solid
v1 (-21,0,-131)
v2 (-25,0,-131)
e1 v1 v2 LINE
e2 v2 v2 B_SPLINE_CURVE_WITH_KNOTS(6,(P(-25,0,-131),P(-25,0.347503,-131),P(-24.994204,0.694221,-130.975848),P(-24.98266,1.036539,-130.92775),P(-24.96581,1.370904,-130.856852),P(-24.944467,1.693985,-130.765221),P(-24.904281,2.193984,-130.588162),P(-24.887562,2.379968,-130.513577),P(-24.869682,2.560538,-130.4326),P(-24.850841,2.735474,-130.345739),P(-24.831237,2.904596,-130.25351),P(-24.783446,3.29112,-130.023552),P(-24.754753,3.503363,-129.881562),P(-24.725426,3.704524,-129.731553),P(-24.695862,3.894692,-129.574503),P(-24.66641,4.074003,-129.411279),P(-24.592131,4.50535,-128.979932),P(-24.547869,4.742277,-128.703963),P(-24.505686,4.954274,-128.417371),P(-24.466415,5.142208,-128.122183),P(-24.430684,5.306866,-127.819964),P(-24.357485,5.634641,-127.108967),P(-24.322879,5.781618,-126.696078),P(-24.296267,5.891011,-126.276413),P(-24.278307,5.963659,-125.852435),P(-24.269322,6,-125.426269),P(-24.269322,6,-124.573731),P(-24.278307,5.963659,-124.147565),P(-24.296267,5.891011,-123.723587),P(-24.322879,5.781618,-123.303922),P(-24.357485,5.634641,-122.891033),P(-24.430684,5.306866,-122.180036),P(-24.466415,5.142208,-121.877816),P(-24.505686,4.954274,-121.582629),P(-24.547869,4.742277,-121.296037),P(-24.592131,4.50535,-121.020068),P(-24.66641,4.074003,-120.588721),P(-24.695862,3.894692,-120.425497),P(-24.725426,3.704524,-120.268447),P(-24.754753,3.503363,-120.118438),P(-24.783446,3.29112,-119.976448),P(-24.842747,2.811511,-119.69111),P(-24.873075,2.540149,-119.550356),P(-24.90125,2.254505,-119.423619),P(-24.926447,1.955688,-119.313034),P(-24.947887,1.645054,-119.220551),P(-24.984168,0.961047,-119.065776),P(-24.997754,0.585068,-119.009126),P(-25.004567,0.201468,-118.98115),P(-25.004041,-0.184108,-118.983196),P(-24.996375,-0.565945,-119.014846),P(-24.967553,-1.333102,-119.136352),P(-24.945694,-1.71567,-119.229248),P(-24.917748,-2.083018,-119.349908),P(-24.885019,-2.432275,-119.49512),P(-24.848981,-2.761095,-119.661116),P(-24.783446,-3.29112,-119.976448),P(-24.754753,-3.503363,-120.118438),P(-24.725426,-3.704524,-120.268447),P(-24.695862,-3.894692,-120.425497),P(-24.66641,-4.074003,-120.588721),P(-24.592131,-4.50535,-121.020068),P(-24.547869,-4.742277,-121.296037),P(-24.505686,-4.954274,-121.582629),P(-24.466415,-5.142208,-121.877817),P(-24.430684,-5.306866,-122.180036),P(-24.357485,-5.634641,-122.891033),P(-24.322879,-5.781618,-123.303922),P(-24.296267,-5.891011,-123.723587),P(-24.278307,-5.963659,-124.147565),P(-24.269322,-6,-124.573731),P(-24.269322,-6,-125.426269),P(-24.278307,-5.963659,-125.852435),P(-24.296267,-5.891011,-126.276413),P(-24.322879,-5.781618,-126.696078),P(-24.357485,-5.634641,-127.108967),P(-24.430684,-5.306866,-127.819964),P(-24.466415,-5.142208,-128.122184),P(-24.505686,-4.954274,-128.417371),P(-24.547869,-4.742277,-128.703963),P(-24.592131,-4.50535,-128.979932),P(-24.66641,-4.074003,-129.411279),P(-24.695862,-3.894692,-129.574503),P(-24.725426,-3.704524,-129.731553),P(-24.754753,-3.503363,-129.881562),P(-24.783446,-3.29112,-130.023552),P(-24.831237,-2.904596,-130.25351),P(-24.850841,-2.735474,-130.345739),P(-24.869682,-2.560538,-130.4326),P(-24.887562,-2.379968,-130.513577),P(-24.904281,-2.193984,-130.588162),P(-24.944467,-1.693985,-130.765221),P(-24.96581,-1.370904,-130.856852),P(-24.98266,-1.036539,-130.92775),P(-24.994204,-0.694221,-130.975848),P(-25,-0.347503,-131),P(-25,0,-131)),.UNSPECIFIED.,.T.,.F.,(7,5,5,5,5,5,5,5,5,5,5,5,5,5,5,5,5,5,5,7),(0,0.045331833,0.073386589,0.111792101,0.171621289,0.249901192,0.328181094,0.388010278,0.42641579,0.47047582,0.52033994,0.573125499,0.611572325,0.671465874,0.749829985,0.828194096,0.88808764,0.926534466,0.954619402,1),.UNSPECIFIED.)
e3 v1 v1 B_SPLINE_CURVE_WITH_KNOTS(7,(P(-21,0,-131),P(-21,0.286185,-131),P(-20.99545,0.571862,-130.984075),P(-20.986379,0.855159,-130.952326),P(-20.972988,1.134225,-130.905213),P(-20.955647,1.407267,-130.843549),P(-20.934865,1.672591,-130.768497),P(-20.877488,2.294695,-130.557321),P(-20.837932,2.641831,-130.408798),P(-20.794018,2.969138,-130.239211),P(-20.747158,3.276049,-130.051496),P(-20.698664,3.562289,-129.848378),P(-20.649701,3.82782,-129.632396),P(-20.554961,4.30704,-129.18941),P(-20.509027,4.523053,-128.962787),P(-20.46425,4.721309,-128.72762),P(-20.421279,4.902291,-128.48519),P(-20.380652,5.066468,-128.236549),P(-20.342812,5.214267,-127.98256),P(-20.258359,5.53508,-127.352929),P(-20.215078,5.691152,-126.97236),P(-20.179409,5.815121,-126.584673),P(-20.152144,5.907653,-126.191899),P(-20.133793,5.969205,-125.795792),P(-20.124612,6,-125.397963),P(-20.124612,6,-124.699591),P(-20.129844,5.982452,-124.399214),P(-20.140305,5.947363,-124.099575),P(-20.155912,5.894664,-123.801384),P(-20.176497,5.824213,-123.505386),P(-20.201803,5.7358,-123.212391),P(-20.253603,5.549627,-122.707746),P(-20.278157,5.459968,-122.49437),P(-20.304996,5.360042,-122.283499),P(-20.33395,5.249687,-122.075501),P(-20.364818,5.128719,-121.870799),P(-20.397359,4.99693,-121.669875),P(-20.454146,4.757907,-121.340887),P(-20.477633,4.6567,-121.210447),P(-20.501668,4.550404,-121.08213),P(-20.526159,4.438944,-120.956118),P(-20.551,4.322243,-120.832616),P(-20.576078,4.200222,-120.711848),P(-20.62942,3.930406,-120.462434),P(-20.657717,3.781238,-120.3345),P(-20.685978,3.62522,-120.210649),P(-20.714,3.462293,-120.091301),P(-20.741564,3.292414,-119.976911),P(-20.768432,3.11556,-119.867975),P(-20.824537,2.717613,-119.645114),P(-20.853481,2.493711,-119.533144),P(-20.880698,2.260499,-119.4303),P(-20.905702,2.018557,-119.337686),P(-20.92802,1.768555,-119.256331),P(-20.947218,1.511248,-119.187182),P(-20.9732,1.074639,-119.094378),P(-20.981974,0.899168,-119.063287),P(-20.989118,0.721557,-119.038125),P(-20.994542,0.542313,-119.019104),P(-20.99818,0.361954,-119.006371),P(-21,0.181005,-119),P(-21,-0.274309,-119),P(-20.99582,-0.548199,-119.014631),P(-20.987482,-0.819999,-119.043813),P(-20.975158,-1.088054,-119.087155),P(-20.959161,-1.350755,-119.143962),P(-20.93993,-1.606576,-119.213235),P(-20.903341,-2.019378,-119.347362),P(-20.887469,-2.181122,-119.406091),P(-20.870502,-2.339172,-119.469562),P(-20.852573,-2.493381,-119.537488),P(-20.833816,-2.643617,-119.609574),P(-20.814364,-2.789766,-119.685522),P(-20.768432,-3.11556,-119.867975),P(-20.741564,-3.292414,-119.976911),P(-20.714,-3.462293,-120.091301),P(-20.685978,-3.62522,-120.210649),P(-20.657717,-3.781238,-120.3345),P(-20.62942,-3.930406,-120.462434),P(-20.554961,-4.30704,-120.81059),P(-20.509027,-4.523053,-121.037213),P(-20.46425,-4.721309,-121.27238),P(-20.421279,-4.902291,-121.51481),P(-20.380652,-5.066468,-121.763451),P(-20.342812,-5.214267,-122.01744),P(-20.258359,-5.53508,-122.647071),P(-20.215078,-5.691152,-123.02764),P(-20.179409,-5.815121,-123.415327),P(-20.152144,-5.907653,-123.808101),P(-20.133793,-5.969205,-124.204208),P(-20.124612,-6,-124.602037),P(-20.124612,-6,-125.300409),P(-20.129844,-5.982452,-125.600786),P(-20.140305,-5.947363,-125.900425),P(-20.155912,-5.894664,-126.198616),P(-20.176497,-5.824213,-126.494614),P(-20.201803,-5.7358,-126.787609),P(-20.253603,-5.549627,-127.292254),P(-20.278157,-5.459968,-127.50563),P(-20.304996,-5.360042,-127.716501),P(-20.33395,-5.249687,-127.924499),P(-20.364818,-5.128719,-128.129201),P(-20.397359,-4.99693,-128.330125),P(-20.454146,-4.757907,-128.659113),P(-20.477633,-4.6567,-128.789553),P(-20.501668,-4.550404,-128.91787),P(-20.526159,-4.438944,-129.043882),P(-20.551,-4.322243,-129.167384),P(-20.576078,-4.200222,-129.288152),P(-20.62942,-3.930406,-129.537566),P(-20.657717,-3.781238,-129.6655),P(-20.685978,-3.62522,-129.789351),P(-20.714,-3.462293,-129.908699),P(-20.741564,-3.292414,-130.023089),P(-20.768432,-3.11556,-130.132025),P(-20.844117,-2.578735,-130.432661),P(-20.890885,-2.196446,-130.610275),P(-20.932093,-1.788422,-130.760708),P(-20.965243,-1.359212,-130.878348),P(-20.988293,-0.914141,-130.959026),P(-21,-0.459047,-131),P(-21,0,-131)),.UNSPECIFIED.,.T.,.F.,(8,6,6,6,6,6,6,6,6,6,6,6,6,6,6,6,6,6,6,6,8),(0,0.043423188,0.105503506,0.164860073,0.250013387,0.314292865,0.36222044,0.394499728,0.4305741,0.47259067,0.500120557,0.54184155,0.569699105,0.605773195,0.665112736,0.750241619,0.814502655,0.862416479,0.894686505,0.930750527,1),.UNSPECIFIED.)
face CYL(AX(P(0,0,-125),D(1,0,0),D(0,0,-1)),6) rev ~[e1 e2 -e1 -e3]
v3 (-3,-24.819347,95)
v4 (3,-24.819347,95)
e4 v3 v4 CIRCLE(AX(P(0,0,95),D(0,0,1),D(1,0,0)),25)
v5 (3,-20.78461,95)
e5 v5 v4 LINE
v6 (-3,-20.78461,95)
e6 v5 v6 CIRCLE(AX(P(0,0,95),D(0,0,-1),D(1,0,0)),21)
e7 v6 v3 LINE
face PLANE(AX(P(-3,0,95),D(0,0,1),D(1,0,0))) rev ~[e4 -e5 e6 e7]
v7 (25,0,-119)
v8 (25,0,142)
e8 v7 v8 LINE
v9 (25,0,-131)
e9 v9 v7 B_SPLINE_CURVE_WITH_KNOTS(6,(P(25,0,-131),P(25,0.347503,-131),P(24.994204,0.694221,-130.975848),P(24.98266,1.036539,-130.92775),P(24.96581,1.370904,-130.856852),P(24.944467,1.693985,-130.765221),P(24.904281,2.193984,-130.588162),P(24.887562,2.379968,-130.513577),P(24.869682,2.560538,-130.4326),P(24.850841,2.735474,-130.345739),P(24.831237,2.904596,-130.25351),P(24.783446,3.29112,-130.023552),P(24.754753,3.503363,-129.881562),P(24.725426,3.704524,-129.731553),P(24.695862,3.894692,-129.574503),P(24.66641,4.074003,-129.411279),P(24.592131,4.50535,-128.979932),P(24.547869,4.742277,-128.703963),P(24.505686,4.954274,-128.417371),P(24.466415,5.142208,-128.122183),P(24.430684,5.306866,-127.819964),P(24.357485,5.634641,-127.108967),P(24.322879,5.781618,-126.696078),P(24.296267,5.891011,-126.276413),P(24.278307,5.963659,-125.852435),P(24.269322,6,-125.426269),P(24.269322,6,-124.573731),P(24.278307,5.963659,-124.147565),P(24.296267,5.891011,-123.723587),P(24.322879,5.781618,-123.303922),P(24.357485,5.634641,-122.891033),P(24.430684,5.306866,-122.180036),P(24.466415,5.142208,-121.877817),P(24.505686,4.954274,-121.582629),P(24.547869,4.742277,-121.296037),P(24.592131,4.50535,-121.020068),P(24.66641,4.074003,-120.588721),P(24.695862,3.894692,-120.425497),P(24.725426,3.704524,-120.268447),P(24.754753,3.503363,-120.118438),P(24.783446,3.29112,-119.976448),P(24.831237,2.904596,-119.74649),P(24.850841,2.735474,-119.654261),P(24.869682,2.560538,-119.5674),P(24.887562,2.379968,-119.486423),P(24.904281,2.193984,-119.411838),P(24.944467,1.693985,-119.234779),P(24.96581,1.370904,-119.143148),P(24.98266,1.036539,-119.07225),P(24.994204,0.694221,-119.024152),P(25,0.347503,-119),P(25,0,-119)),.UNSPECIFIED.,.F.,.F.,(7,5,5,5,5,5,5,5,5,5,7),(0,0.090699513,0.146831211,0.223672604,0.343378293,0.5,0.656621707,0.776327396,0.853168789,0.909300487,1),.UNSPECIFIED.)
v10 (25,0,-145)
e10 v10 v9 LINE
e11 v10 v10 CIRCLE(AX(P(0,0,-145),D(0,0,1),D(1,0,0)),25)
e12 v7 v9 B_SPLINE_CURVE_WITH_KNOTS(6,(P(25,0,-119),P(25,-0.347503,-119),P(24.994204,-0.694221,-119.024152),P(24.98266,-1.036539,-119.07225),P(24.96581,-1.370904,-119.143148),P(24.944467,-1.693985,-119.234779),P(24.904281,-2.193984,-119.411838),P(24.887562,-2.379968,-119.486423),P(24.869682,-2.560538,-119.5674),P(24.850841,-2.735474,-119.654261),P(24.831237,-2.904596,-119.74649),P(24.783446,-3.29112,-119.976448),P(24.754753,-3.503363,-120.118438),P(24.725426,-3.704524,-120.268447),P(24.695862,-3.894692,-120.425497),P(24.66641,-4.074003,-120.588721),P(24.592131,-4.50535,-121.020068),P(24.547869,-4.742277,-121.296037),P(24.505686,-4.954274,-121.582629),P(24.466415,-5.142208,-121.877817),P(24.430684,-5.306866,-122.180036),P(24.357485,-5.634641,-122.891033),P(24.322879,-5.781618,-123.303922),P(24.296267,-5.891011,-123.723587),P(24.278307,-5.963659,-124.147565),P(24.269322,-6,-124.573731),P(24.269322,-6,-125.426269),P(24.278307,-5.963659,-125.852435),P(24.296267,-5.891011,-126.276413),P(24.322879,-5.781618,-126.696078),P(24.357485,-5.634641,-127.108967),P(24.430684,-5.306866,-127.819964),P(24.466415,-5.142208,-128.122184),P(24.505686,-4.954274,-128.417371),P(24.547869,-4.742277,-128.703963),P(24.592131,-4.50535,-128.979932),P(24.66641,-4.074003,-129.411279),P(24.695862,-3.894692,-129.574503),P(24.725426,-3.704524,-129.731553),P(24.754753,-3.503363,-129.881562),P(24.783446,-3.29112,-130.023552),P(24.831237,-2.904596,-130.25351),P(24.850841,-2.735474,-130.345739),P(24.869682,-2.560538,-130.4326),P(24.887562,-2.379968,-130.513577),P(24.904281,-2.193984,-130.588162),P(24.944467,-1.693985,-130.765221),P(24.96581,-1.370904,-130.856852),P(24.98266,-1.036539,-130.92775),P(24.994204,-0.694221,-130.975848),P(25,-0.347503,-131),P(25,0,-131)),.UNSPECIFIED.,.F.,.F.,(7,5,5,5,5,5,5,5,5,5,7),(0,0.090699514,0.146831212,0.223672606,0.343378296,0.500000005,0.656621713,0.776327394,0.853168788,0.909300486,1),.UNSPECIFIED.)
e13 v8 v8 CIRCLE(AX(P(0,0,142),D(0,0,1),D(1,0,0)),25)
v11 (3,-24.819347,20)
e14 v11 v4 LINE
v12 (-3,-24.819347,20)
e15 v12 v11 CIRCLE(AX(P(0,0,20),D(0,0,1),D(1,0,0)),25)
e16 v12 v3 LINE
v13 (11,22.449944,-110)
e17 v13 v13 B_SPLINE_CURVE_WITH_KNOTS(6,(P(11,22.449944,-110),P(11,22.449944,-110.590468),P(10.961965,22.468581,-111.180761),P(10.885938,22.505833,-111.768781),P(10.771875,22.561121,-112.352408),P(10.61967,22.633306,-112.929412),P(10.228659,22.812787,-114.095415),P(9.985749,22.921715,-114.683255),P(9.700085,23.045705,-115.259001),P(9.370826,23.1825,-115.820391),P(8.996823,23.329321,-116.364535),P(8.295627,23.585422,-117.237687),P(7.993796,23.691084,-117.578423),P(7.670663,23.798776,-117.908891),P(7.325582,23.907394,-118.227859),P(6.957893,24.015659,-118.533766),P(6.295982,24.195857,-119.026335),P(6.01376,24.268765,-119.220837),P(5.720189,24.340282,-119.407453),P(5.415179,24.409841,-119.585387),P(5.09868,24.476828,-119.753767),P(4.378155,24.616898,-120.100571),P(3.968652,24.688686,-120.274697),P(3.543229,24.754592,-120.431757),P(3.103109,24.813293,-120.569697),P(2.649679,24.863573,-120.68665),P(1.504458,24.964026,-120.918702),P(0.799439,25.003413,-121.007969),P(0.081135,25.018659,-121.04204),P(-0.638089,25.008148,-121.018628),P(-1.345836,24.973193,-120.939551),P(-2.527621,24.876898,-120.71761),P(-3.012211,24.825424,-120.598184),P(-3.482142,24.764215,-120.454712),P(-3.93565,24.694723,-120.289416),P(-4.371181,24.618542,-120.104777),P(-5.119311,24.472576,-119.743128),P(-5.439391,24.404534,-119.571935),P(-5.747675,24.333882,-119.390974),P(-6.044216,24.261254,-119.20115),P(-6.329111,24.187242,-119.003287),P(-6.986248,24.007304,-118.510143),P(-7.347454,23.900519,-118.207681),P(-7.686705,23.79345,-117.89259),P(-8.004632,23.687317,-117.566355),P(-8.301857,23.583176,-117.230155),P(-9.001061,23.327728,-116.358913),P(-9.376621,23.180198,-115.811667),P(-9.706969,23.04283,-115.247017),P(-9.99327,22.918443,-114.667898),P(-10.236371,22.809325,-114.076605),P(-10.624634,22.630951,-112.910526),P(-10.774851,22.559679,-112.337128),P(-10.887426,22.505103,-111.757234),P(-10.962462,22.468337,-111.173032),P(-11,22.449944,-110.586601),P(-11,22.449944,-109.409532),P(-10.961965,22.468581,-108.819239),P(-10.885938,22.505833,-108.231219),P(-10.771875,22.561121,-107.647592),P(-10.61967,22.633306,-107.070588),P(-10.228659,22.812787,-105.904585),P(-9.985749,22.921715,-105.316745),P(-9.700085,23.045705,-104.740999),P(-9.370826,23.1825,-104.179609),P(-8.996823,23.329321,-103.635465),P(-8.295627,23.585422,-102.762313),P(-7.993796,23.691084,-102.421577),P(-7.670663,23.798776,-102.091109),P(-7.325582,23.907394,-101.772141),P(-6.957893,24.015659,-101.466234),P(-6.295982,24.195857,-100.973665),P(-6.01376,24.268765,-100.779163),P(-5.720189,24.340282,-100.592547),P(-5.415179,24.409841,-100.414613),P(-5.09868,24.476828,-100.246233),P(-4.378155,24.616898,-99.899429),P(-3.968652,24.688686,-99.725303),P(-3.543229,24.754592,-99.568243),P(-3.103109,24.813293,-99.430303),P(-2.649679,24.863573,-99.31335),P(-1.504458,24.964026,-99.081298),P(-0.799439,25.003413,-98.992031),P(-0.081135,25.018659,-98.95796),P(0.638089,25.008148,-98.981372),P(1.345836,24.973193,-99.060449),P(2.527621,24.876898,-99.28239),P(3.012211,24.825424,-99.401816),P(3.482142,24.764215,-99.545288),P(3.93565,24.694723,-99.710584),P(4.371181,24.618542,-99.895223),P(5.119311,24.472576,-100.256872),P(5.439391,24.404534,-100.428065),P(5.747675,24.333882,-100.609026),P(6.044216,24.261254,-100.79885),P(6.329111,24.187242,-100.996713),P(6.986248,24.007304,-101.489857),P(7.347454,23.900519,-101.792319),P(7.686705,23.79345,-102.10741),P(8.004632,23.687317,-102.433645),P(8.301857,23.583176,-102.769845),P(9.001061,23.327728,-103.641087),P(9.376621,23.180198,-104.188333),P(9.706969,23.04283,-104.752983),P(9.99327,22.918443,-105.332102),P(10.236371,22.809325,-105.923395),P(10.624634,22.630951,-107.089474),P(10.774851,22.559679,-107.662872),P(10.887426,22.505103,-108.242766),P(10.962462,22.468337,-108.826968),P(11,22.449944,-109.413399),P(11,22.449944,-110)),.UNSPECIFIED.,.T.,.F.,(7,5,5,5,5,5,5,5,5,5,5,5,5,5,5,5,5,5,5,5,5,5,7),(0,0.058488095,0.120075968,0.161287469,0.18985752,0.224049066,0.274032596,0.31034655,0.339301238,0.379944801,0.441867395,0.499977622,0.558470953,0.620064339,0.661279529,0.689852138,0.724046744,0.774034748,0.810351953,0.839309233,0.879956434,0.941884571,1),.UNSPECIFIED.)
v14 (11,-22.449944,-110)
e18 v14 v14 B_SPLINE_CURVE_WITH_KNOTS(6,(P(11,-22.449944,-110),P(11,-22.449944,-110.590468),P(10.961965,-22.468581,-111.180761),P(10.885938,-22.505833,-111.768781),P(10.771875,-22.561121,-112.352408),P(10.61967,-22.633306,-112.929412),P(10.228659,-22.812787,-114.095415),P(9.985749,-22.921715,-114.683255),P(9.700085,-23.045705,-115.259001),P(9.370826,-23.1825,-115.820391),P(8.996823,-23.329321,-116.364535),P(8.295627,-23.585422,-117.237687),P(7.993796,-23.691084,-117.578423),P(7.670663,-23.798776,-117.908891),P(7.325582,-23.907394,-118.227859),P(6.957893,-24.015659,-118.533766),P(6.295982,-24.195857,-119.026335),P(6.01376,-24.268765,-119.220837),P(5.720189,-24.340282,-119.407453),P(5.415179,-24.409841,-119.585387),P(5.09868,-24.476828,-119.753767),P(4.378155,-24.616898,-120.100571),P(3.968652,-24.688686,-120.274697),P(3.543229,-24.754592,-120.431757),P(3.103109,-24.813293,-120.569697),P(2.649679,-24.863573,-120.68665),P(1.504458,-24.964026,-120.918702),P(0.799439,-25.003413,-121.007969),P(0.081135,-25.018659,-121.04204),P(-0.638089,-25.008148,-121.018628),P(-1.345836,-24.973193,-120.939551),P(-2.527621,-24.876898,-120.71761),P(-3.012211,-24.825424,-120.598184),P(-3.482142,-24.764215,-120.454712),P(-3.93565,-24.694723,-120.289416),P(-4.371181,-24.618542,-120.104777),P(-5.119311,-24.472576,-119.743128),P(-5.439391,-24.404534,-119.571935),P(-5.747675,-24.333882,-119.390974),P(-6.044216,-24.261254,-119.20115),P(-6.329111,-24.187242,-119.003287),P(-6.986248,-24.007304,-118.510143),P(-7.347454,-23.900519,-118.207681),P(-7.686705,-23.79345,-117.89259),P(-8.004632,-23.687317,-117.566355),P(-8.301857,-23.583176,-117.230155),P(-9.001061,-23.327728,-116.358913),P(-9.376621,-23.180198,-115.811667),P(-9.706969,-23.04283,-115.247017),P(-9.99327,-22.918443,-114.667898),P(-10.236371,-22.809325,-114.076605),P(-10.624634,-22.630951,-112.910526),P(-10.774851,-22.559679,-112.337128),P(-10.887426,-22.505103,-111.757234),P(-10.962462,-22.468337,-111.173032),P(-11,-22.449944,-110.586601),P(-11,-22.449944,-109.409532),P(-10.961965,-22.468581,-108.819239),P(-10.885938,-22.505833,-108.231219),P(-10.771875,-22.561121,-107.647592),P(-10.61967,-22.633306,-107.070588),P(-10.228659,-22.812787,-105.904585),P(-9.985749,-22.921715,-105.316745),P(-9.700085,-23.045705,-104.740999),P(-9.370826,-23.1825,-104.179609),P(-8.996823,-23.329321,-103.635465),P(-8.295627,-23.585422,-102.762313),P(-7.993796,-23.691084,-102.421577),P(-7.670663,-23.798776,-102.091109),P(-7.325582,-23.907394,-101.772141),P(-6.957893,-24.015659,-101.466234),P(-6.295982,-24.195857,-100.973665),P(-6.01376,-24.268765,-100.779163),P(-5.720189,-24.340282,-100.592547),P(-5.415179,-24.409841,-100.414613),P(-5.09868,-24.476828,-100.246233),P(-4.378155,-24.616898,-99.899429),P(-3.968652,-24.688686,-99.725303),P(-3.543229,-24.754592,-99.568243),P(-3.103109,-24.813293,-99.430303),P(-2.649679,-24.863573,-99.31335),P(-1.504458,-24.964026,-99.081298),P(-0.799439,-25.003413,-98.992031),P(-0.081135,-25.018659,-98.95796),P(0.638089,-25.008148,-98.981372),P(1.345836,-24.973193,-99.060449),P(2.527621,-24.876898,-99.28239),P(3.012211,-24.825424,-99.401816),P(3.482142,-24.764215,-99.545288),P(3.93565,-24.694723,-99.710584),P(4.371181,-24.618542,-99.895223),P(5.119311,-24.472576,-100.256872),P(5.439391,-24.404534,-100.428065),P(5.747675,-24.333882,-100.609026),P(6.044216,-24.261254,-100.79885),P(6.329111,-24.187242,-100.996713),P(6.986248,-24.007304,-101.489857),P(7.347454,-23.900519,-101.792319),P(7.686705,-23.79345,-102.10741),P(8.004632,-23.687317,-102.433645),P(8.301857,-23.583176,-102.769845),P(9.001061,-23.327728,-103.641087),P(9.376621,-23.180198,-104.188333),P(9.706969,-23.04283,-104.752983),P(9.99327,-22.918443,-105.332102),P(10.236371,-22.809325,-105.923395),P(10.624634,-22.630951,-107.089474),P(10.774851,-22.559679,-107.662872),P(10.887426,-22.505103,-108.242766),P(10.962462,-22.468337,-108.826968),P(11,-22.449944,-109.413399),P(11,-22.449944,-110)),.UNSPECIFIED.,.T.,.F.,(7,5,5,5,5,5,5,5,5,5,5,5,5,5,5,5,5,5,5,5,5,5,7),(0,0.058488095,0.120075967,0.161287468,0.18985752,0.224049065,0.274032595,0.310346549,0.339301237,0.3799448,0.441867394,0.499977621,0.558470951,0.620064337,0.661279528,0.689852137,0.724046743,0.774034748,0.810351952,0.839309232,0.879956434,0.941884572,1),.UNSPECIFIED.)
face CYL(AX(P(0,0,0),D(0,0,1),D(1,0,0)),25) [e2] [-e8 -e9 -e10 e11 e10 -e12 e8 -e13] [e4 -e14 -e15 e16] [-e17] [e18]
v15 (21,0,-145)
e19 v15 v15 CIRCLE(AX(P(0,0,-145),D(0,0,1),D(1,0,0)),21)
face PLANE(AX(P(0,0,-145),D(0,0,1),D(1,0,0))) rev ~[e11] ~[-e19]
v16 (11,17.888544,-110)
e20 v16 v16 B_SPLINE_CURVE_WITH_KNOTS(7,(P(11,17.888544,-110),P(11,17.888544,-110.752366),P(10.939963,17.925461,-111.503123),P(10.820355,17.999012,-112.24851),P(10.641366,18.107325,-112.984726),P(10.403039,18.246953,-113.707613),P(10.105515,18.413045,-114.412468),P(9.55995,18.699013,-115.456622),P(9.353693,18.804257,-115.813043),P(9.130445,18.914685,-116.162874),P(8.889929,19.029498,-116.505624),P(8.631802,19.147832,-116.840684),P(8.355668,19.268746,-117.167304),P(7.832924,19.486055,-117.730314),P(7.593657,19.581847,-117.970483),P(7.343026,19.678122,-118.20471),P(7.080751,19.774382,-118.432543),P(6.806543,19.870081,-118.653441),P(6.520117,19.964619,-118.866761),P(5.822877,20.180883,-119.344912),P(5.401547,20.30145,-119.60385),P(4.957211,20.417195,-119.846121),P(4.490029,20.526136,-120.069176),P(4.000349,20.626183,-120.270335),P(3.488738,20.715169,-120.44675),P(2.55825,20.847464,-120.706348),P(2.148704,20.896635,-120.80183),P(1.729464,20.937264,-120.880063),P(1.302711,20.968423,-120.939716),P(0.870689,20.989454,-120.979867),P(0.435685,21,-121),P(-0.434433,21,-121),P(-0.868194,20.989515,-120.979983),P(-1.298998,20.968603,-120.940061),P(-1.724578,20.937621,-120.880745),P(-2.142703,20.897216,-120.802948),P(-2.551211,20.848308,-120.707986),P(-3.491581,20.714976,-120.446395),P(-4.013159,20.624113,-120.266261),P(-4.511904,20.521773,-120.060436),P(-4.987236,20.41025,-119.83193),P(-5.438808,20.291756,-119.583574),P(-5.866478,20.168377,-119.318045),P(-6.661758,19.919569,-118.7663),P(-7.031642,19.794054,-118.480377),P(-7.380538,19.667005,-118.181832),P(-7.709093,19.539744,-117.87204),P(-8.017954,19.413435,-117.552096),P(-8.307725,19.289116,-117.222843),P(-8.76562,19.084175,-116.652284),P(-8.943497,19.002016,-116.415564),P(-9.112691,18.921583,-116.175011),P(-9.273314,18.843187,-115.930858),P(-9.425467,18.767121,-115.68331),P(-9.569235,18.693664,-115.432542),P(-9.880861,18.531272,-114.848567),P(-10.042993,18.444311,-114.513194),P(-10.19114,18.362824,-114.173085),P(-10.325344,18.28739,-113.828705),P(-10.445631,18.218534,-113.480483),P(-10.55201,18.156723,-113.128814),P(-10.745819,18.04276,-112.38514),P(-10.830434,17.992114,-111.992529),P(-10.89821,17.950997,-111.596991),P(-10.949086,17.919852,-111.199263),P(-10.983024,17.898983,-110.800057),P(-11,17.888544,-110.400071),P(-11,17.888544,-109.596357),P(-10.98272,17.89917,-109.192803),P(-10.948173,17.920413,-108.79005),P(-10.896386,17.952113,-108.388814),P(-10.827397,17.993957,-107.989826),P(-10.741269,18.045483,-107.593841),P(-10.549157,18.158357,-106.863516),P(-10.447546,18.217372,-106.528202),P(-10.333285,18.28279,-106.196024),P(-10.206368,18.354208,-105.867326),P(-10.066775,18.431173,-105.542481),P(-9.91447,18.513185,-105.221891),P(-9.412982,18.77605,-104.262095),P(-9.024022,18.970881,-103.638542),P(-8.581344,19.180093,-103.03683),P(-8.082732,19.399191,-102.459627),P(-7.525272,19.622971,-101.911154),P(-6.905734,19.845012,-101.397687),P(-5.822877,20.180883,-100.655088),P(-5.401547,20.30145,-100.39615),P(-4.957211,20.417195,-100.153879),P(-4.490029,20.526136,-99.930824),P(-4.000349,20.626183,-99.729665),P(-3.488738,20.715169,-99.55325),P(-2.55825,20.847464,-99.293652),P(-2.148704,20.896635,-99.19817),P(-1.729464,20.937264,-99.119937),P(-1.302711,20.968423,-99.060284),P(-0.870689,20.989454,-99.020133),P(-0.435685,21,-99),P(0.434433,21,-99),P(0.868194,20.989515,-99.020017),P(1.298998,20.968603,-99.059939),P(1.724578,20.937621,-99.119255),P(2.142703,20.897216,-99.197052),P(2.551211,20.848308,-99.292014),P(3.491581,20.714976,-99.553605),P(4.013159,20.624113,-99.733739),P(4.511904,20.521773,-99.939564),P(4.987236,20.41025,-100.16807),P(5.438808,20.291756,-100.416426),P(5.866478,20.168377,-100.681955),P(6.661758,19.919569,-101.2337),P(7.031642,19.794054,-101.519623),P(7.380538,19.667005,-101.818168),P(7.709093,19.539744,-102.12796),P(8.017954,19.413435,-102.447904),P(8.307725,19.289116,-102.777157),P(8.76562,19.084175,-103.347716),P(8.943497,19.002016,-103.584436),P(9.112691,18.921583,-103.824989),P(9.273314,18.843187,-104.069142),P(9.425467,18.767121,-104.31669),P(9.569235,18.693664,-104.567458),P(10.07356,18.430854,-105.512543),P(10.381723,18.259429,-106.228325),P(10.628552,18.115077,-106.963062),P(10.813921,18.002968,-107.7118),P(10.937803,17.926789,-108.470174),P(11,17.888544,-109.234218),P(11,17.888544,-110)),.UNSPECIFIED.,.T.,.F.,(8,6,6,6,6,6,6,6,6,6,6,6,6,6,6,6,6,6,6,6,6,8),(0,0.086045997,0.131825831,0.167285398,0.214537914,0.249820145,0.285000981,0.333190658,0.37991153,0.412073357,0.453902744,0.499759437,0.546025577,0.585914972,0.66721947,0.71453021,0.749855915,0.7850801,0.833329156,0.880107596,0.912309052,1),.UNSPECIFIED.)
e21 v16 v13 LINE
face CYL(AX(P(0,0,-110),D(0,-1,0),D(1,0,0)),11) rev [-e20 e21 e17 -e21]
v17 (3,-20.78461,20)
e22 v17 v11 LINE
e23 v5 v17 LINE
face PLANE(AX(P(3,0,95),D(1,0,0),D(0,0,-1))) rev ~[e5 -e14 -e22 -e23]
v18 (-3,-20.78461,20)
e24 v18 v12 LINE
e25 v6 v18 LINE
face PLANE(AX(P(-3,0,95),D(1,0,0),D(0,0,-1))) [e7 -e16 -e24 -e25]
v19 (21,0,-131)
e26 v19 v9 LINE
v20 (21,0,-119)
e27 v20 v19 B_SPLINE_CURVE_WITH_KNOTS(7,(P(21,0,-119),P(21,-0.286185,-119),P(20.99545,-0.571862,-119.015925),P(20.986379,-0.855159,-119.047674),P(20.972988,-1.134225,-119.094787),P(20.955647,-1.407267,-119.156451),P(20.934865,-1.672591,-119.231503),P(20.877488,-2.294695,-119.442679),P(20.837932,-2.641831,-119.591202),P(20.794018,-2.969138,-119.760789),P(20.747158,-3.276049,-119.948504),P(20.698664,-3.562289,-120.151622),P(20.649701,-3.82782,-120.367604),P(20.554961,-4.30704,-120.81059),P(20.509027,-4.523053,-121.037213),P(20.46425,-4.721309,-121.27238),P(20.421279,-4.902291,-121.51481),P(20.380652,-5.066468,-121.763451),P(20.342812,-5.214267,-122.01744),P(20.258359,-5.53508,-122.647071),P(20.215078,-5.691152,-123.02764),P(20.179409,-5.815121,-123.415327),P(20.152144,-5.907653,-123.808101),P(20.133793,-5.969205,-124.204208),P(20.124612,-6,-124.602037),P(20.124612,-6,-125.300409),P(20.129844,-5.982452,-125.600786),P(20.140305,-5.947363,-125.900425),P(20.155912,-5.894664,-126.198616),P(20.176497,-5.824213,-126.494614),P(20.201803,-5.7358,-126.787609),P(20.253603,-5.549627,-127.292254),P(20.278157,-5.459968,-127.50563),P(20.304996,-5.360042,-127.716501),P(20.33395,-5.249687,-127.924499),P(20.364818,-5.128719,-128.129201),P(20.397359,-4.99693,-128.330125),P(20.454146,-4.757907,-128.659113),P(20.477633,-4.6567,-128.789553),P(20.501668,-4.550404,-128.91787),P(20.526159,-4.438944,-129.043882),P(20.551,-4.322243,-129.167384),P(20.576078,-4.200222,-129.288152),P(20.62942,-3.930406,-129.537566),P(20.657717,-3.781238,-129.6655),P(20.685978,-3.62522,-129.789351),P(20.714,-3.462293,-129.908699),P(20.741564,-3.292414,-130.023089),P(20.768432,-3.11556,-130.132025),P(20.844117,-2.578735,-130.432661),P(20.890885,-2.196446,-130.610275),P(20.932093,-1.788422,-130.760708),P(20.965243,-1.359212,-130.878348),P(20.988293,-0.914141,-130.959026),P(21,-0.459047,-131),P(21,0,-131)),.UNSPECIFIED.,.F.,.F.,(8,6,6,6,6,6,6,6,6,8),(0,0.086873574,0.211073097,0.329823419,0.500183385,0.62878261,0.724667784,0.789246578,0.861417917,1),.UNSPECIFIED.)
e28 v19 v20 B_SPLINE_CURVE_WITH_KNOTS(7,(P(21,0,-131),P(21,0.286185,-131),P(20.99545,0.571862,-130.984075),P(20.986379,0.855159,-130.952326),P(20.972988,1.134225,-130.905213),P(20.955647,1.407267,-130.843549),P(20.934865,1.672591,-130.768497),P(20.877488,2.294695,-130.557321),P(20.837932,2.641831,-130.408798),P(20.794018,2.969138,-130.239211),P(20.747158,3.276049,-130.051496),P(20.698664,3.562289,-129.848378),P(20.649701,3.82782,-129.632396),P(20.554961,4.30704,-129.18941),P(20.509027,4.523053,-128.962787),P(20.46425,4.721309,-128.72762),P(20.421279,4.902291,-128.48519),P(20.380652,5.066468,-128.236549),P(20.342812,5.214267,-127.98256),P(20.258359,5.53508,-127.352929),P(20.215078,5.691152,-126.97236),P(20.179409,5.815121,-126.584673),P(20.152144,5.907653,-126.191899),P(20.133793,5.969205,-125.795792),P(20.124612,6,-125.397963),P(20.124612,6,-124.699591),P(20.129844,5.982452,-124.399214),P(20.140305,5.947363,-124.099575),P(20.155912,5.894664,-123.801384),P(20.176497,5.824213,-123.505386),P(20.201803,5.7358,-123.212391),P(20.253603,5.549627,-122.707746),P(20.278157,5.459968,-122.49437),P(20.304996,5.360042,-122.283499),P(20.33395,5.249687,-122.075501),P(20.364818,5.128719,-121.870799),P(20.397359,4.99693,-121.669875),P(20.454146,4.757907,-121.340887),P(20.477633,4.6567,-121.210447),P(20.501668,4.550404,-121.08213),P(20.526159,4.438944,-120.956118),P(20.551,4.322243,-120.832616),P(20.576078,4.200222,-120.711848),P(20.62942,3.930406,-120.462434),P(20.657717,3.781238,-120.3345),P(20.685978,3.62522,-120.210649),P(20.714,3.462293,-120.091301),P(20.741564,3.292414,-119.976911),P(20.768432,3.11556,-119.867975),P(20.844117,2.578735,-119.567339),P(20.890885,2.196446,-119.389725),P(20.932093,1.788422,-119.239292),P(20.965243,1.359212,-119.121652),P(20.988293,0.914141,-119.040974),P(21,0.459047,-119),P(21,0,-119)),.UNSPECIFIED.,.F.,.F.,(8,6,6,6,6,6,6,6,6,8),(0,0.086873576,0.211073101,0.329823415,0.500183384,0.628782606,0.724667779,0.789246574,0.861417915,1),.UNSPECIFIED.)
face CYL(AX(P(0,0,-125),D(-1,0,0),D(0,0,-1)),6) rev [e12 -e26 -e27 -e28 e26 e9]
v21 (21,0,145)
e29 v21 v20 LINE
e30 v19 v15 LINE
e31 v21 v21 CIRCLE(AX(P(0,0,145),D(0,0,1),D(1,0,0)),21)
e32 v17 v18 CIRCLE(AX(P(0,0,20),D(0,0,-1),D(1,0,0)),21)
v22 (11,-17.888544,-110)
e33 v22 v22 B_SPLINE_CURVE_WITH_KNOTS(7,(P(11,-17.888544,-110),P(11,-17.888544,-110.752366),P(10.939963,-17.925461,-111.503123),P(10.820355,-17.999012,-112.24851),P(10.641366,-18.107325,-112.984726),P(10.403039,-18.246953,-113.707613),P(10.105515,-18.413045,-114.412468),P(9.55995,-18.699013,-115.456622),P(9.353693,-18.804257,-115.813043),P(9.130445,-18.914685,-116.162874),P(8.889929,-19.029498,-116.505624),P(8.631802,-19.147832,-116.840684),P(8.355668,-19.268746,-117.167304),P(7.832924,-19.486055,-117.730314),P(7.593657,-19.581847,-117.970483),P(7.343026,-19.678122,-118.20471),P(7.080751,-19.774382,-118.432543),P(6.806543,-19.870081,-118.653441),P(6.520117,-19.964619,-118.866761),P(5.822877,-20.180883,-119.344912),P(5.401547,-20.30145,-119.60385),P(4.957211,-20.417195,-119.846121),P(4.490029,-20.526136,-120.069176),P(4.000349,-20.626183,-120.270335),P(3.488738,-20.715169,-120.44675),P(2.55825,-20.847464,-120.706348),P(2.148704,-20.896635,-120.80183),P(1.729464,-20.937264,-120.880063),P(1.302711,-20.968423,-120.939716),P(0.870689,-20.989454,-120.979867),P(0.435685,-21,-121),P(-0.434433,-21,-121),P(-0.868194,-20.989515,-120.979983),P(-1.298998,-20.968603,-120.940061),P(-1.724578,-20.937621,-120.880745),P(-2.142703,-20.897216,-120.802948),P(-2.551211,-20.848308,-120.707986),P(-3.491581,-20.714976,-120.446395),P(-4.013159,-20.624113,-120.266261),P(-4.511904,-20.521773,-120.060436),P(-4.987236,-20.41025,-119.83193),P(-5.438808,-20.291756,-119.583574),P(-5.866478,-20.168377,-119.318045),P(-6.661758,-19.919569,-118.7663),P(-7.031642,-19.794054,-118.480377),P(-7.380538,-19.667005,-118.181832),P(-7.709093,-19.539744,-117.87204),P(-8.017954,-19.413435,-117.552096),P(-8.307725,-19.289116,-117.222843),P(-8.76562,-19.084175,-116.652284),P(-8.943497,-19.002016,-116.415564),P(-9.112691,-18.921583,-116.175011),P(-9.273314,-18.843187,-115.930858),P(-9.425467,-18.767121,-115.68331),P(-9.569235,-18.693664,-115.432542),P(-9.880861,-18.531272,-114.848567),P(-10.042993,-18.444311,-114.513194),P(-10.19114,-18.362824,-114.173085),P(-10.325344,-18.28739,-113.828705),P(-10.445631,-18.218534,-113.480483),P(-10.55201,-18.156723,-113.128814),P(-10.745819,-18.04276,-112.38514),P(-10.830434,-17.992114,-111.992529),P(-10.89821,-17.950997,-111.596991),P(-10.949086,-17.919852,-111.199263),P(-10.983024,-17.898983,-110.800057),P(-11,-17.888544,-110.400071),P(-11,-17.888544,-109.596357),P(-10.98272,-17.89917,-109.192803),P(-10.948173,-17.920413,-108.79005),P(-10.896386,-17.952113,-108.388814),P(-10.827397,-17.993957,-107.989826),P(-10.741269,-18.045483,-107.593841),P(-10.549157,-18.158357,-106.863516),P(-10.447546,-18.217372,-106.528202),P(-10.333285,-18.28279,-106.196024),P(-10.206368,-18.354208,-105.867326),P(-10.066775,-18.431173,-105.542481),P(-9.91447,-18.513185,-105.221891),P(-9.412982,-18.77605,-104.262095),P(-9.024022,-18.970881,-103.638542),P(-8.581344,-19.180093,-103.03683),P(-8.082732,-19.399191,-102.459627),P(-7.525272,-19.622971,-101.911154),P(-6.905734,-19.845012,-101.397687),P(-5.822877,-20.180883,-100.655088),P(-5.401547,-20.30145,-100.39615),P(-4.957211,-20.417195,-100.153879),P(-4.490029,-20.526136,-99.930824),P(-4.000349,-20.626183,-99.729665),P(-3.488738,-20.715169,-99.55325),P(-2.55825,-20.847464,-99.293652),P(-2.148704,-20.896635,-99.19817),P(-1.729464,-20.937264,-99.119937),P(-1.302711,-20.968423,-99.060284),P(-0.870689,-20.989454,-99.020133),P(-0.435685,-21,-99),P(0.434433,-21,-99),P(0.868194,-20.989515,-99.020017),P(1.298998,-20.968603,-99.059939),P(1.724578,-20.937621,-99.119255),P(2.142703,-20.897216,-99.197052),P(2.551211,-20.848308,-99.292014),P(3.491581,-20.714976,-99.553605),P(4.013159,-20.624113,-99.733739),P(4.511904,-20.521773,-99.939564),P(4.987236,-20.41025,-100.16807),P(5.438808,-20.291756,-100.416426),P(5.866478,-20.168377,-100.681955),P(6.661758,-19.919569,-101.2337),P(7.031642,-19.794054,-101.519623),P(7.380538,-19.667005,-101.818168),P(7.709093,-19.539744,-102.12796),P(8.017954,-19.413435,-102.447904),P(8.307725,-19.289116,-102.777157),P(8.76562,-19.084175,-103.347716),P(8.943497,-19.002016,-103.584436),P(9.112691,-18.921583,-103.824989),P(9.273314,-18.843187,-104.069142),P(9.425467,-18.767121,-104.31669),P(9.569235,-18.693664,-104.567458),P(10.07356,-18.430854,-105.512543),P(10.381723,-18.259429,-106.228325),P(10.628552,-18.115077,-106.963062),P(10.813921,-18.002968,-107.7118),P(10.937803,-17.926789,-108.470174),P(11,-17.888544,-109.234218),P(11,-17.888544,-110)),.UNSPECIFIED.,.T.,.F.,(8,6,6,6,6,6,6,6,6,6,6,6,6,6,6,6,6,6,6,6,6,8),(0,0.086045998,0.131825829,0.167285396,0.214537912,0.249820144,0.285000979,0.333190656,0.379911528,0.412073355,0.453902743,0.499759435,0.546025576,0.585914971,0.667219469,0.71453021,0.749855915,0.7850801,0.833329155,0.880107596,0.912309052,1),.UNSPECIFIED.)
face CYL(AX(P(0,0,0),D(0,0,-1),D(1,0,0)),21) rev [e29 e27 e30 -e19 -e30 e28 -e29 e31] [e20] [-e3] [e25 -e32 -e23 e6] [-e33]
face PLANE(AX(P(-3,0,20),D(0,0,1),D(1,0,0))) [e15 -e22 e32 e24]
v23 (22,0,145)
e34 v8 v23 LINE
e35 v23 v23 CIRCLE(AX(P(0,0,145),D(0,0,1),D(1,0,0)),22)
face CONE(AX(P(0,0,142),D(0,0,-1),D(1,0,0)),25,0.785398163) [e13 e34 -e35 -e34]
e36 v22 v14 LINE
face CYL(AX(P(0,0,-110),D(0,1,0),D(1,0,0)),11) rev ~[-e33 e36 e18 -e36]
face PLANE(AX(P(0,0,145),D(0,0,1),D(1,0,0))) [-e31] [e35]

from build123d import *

# Parameters (mm, degrees)
SKETCH1_R               = 25
SKETCH1_R_2             = 21
BOSS_EXTRUDE1_DEPTH     = 145
CHAMFER1_SIZE           = 3
SKETCH2_R               = 11
CUT_EXTRUDE1_DEPTH      = 26
CUT_EXTRUDE1_DEPTH_BACK = 26
SKETCH3_R               = 6
CUT_EXTRUDE2_DEPTH      = 26.0000001
CUT_EXTRUDE2_DEPTH_BACK = 26.0000001
CUT_EXTRUDE3_REACH      = 27
SKETCH4_W               = 6
SKETCH4_H               = 75


with BuildPart() as part:
    # Sketch1 → Boss-Extrude1 (new body, symmetric)
    with BuildSketch(Plane.XY):
        Circle(SKETCH1_R)
        Circle(SKETCH1_R_2, mode=Mode.SUBTRACT)
    extrude(amount=BOSS_EXTRUDE1_DEPTH, both=True)

    # Chamfer1
    chamfer1_edges = [part.edges().sort_by_distance(p)[0] for p in [
        (-25, 0, 145),
    ]]
    chamfer(chamfer1_edges, length=CHAMFER1_SIZE)

    # Sketch2 → Cut-Extrude1 (cut, two sides)
    with BuildSketch(Plane(origin=(0, 0, 0), x_dir=(1, 0, 0), z_dir=(0, 1, 0))) as cut_extrude1_sk:
        with Locations((0, 110)):
            Circle(SKETCH2_R)
    extrude(amount=CUT_EXTRUDE1_DEPTH, mode=Mode.SUBTRACT)
    extrude(cut_extrude1_sk.sketch, amount=-CUT_EXTRUDE1_DEPTH_BACK, mode=Mode.SUBTRACT)

    # Sketch3 → Cut-Extrude2 (cut, two sides)
    with BuildSketch(Plane(origin=(0, 0, 0), x_dir=(0, 0, -1), z_dir=(1, 0, 0))) as cut_extrude2_sk:
        with Locations((125, 0)):
            Circle(SKETCH3_R)
    extrude(amount=CUT_EXTRUDE2_DEPTH, mode=Mode.SUBTRACT)
    extrude(cut_extrude2_sk.sketch, amount=-CUT_EXTRUDE2_DEPTH_BACK, mode=Mode.SUBTRACT)

    # Sketch4 → Cut-Extrude3 (cut, up to next)
    with BuildSketch(Plane(origin=(0, 0, 0), x_dir=(1, 0, 0), z_dir=(0, 1, 0)), mode=Mode.PRIVATE) as cut_extrude3_sk1:
        with Locations((0, -57.5)):
            Rectangle(SKETCH4_W, SKETCH4_H)
    cut_extrude3_tool1 = extrude(cut_extrude3_sk1.sketch, amount=-CUT_EXTRUDE3_REACH, mode=Mode.PRIVATE) & part.part
    add(cut_extrude3_tool1.solids().sort_by_distance((0, 0, 57.5))[0], mode=Mode.SUBTRACT)


solid = part.part
